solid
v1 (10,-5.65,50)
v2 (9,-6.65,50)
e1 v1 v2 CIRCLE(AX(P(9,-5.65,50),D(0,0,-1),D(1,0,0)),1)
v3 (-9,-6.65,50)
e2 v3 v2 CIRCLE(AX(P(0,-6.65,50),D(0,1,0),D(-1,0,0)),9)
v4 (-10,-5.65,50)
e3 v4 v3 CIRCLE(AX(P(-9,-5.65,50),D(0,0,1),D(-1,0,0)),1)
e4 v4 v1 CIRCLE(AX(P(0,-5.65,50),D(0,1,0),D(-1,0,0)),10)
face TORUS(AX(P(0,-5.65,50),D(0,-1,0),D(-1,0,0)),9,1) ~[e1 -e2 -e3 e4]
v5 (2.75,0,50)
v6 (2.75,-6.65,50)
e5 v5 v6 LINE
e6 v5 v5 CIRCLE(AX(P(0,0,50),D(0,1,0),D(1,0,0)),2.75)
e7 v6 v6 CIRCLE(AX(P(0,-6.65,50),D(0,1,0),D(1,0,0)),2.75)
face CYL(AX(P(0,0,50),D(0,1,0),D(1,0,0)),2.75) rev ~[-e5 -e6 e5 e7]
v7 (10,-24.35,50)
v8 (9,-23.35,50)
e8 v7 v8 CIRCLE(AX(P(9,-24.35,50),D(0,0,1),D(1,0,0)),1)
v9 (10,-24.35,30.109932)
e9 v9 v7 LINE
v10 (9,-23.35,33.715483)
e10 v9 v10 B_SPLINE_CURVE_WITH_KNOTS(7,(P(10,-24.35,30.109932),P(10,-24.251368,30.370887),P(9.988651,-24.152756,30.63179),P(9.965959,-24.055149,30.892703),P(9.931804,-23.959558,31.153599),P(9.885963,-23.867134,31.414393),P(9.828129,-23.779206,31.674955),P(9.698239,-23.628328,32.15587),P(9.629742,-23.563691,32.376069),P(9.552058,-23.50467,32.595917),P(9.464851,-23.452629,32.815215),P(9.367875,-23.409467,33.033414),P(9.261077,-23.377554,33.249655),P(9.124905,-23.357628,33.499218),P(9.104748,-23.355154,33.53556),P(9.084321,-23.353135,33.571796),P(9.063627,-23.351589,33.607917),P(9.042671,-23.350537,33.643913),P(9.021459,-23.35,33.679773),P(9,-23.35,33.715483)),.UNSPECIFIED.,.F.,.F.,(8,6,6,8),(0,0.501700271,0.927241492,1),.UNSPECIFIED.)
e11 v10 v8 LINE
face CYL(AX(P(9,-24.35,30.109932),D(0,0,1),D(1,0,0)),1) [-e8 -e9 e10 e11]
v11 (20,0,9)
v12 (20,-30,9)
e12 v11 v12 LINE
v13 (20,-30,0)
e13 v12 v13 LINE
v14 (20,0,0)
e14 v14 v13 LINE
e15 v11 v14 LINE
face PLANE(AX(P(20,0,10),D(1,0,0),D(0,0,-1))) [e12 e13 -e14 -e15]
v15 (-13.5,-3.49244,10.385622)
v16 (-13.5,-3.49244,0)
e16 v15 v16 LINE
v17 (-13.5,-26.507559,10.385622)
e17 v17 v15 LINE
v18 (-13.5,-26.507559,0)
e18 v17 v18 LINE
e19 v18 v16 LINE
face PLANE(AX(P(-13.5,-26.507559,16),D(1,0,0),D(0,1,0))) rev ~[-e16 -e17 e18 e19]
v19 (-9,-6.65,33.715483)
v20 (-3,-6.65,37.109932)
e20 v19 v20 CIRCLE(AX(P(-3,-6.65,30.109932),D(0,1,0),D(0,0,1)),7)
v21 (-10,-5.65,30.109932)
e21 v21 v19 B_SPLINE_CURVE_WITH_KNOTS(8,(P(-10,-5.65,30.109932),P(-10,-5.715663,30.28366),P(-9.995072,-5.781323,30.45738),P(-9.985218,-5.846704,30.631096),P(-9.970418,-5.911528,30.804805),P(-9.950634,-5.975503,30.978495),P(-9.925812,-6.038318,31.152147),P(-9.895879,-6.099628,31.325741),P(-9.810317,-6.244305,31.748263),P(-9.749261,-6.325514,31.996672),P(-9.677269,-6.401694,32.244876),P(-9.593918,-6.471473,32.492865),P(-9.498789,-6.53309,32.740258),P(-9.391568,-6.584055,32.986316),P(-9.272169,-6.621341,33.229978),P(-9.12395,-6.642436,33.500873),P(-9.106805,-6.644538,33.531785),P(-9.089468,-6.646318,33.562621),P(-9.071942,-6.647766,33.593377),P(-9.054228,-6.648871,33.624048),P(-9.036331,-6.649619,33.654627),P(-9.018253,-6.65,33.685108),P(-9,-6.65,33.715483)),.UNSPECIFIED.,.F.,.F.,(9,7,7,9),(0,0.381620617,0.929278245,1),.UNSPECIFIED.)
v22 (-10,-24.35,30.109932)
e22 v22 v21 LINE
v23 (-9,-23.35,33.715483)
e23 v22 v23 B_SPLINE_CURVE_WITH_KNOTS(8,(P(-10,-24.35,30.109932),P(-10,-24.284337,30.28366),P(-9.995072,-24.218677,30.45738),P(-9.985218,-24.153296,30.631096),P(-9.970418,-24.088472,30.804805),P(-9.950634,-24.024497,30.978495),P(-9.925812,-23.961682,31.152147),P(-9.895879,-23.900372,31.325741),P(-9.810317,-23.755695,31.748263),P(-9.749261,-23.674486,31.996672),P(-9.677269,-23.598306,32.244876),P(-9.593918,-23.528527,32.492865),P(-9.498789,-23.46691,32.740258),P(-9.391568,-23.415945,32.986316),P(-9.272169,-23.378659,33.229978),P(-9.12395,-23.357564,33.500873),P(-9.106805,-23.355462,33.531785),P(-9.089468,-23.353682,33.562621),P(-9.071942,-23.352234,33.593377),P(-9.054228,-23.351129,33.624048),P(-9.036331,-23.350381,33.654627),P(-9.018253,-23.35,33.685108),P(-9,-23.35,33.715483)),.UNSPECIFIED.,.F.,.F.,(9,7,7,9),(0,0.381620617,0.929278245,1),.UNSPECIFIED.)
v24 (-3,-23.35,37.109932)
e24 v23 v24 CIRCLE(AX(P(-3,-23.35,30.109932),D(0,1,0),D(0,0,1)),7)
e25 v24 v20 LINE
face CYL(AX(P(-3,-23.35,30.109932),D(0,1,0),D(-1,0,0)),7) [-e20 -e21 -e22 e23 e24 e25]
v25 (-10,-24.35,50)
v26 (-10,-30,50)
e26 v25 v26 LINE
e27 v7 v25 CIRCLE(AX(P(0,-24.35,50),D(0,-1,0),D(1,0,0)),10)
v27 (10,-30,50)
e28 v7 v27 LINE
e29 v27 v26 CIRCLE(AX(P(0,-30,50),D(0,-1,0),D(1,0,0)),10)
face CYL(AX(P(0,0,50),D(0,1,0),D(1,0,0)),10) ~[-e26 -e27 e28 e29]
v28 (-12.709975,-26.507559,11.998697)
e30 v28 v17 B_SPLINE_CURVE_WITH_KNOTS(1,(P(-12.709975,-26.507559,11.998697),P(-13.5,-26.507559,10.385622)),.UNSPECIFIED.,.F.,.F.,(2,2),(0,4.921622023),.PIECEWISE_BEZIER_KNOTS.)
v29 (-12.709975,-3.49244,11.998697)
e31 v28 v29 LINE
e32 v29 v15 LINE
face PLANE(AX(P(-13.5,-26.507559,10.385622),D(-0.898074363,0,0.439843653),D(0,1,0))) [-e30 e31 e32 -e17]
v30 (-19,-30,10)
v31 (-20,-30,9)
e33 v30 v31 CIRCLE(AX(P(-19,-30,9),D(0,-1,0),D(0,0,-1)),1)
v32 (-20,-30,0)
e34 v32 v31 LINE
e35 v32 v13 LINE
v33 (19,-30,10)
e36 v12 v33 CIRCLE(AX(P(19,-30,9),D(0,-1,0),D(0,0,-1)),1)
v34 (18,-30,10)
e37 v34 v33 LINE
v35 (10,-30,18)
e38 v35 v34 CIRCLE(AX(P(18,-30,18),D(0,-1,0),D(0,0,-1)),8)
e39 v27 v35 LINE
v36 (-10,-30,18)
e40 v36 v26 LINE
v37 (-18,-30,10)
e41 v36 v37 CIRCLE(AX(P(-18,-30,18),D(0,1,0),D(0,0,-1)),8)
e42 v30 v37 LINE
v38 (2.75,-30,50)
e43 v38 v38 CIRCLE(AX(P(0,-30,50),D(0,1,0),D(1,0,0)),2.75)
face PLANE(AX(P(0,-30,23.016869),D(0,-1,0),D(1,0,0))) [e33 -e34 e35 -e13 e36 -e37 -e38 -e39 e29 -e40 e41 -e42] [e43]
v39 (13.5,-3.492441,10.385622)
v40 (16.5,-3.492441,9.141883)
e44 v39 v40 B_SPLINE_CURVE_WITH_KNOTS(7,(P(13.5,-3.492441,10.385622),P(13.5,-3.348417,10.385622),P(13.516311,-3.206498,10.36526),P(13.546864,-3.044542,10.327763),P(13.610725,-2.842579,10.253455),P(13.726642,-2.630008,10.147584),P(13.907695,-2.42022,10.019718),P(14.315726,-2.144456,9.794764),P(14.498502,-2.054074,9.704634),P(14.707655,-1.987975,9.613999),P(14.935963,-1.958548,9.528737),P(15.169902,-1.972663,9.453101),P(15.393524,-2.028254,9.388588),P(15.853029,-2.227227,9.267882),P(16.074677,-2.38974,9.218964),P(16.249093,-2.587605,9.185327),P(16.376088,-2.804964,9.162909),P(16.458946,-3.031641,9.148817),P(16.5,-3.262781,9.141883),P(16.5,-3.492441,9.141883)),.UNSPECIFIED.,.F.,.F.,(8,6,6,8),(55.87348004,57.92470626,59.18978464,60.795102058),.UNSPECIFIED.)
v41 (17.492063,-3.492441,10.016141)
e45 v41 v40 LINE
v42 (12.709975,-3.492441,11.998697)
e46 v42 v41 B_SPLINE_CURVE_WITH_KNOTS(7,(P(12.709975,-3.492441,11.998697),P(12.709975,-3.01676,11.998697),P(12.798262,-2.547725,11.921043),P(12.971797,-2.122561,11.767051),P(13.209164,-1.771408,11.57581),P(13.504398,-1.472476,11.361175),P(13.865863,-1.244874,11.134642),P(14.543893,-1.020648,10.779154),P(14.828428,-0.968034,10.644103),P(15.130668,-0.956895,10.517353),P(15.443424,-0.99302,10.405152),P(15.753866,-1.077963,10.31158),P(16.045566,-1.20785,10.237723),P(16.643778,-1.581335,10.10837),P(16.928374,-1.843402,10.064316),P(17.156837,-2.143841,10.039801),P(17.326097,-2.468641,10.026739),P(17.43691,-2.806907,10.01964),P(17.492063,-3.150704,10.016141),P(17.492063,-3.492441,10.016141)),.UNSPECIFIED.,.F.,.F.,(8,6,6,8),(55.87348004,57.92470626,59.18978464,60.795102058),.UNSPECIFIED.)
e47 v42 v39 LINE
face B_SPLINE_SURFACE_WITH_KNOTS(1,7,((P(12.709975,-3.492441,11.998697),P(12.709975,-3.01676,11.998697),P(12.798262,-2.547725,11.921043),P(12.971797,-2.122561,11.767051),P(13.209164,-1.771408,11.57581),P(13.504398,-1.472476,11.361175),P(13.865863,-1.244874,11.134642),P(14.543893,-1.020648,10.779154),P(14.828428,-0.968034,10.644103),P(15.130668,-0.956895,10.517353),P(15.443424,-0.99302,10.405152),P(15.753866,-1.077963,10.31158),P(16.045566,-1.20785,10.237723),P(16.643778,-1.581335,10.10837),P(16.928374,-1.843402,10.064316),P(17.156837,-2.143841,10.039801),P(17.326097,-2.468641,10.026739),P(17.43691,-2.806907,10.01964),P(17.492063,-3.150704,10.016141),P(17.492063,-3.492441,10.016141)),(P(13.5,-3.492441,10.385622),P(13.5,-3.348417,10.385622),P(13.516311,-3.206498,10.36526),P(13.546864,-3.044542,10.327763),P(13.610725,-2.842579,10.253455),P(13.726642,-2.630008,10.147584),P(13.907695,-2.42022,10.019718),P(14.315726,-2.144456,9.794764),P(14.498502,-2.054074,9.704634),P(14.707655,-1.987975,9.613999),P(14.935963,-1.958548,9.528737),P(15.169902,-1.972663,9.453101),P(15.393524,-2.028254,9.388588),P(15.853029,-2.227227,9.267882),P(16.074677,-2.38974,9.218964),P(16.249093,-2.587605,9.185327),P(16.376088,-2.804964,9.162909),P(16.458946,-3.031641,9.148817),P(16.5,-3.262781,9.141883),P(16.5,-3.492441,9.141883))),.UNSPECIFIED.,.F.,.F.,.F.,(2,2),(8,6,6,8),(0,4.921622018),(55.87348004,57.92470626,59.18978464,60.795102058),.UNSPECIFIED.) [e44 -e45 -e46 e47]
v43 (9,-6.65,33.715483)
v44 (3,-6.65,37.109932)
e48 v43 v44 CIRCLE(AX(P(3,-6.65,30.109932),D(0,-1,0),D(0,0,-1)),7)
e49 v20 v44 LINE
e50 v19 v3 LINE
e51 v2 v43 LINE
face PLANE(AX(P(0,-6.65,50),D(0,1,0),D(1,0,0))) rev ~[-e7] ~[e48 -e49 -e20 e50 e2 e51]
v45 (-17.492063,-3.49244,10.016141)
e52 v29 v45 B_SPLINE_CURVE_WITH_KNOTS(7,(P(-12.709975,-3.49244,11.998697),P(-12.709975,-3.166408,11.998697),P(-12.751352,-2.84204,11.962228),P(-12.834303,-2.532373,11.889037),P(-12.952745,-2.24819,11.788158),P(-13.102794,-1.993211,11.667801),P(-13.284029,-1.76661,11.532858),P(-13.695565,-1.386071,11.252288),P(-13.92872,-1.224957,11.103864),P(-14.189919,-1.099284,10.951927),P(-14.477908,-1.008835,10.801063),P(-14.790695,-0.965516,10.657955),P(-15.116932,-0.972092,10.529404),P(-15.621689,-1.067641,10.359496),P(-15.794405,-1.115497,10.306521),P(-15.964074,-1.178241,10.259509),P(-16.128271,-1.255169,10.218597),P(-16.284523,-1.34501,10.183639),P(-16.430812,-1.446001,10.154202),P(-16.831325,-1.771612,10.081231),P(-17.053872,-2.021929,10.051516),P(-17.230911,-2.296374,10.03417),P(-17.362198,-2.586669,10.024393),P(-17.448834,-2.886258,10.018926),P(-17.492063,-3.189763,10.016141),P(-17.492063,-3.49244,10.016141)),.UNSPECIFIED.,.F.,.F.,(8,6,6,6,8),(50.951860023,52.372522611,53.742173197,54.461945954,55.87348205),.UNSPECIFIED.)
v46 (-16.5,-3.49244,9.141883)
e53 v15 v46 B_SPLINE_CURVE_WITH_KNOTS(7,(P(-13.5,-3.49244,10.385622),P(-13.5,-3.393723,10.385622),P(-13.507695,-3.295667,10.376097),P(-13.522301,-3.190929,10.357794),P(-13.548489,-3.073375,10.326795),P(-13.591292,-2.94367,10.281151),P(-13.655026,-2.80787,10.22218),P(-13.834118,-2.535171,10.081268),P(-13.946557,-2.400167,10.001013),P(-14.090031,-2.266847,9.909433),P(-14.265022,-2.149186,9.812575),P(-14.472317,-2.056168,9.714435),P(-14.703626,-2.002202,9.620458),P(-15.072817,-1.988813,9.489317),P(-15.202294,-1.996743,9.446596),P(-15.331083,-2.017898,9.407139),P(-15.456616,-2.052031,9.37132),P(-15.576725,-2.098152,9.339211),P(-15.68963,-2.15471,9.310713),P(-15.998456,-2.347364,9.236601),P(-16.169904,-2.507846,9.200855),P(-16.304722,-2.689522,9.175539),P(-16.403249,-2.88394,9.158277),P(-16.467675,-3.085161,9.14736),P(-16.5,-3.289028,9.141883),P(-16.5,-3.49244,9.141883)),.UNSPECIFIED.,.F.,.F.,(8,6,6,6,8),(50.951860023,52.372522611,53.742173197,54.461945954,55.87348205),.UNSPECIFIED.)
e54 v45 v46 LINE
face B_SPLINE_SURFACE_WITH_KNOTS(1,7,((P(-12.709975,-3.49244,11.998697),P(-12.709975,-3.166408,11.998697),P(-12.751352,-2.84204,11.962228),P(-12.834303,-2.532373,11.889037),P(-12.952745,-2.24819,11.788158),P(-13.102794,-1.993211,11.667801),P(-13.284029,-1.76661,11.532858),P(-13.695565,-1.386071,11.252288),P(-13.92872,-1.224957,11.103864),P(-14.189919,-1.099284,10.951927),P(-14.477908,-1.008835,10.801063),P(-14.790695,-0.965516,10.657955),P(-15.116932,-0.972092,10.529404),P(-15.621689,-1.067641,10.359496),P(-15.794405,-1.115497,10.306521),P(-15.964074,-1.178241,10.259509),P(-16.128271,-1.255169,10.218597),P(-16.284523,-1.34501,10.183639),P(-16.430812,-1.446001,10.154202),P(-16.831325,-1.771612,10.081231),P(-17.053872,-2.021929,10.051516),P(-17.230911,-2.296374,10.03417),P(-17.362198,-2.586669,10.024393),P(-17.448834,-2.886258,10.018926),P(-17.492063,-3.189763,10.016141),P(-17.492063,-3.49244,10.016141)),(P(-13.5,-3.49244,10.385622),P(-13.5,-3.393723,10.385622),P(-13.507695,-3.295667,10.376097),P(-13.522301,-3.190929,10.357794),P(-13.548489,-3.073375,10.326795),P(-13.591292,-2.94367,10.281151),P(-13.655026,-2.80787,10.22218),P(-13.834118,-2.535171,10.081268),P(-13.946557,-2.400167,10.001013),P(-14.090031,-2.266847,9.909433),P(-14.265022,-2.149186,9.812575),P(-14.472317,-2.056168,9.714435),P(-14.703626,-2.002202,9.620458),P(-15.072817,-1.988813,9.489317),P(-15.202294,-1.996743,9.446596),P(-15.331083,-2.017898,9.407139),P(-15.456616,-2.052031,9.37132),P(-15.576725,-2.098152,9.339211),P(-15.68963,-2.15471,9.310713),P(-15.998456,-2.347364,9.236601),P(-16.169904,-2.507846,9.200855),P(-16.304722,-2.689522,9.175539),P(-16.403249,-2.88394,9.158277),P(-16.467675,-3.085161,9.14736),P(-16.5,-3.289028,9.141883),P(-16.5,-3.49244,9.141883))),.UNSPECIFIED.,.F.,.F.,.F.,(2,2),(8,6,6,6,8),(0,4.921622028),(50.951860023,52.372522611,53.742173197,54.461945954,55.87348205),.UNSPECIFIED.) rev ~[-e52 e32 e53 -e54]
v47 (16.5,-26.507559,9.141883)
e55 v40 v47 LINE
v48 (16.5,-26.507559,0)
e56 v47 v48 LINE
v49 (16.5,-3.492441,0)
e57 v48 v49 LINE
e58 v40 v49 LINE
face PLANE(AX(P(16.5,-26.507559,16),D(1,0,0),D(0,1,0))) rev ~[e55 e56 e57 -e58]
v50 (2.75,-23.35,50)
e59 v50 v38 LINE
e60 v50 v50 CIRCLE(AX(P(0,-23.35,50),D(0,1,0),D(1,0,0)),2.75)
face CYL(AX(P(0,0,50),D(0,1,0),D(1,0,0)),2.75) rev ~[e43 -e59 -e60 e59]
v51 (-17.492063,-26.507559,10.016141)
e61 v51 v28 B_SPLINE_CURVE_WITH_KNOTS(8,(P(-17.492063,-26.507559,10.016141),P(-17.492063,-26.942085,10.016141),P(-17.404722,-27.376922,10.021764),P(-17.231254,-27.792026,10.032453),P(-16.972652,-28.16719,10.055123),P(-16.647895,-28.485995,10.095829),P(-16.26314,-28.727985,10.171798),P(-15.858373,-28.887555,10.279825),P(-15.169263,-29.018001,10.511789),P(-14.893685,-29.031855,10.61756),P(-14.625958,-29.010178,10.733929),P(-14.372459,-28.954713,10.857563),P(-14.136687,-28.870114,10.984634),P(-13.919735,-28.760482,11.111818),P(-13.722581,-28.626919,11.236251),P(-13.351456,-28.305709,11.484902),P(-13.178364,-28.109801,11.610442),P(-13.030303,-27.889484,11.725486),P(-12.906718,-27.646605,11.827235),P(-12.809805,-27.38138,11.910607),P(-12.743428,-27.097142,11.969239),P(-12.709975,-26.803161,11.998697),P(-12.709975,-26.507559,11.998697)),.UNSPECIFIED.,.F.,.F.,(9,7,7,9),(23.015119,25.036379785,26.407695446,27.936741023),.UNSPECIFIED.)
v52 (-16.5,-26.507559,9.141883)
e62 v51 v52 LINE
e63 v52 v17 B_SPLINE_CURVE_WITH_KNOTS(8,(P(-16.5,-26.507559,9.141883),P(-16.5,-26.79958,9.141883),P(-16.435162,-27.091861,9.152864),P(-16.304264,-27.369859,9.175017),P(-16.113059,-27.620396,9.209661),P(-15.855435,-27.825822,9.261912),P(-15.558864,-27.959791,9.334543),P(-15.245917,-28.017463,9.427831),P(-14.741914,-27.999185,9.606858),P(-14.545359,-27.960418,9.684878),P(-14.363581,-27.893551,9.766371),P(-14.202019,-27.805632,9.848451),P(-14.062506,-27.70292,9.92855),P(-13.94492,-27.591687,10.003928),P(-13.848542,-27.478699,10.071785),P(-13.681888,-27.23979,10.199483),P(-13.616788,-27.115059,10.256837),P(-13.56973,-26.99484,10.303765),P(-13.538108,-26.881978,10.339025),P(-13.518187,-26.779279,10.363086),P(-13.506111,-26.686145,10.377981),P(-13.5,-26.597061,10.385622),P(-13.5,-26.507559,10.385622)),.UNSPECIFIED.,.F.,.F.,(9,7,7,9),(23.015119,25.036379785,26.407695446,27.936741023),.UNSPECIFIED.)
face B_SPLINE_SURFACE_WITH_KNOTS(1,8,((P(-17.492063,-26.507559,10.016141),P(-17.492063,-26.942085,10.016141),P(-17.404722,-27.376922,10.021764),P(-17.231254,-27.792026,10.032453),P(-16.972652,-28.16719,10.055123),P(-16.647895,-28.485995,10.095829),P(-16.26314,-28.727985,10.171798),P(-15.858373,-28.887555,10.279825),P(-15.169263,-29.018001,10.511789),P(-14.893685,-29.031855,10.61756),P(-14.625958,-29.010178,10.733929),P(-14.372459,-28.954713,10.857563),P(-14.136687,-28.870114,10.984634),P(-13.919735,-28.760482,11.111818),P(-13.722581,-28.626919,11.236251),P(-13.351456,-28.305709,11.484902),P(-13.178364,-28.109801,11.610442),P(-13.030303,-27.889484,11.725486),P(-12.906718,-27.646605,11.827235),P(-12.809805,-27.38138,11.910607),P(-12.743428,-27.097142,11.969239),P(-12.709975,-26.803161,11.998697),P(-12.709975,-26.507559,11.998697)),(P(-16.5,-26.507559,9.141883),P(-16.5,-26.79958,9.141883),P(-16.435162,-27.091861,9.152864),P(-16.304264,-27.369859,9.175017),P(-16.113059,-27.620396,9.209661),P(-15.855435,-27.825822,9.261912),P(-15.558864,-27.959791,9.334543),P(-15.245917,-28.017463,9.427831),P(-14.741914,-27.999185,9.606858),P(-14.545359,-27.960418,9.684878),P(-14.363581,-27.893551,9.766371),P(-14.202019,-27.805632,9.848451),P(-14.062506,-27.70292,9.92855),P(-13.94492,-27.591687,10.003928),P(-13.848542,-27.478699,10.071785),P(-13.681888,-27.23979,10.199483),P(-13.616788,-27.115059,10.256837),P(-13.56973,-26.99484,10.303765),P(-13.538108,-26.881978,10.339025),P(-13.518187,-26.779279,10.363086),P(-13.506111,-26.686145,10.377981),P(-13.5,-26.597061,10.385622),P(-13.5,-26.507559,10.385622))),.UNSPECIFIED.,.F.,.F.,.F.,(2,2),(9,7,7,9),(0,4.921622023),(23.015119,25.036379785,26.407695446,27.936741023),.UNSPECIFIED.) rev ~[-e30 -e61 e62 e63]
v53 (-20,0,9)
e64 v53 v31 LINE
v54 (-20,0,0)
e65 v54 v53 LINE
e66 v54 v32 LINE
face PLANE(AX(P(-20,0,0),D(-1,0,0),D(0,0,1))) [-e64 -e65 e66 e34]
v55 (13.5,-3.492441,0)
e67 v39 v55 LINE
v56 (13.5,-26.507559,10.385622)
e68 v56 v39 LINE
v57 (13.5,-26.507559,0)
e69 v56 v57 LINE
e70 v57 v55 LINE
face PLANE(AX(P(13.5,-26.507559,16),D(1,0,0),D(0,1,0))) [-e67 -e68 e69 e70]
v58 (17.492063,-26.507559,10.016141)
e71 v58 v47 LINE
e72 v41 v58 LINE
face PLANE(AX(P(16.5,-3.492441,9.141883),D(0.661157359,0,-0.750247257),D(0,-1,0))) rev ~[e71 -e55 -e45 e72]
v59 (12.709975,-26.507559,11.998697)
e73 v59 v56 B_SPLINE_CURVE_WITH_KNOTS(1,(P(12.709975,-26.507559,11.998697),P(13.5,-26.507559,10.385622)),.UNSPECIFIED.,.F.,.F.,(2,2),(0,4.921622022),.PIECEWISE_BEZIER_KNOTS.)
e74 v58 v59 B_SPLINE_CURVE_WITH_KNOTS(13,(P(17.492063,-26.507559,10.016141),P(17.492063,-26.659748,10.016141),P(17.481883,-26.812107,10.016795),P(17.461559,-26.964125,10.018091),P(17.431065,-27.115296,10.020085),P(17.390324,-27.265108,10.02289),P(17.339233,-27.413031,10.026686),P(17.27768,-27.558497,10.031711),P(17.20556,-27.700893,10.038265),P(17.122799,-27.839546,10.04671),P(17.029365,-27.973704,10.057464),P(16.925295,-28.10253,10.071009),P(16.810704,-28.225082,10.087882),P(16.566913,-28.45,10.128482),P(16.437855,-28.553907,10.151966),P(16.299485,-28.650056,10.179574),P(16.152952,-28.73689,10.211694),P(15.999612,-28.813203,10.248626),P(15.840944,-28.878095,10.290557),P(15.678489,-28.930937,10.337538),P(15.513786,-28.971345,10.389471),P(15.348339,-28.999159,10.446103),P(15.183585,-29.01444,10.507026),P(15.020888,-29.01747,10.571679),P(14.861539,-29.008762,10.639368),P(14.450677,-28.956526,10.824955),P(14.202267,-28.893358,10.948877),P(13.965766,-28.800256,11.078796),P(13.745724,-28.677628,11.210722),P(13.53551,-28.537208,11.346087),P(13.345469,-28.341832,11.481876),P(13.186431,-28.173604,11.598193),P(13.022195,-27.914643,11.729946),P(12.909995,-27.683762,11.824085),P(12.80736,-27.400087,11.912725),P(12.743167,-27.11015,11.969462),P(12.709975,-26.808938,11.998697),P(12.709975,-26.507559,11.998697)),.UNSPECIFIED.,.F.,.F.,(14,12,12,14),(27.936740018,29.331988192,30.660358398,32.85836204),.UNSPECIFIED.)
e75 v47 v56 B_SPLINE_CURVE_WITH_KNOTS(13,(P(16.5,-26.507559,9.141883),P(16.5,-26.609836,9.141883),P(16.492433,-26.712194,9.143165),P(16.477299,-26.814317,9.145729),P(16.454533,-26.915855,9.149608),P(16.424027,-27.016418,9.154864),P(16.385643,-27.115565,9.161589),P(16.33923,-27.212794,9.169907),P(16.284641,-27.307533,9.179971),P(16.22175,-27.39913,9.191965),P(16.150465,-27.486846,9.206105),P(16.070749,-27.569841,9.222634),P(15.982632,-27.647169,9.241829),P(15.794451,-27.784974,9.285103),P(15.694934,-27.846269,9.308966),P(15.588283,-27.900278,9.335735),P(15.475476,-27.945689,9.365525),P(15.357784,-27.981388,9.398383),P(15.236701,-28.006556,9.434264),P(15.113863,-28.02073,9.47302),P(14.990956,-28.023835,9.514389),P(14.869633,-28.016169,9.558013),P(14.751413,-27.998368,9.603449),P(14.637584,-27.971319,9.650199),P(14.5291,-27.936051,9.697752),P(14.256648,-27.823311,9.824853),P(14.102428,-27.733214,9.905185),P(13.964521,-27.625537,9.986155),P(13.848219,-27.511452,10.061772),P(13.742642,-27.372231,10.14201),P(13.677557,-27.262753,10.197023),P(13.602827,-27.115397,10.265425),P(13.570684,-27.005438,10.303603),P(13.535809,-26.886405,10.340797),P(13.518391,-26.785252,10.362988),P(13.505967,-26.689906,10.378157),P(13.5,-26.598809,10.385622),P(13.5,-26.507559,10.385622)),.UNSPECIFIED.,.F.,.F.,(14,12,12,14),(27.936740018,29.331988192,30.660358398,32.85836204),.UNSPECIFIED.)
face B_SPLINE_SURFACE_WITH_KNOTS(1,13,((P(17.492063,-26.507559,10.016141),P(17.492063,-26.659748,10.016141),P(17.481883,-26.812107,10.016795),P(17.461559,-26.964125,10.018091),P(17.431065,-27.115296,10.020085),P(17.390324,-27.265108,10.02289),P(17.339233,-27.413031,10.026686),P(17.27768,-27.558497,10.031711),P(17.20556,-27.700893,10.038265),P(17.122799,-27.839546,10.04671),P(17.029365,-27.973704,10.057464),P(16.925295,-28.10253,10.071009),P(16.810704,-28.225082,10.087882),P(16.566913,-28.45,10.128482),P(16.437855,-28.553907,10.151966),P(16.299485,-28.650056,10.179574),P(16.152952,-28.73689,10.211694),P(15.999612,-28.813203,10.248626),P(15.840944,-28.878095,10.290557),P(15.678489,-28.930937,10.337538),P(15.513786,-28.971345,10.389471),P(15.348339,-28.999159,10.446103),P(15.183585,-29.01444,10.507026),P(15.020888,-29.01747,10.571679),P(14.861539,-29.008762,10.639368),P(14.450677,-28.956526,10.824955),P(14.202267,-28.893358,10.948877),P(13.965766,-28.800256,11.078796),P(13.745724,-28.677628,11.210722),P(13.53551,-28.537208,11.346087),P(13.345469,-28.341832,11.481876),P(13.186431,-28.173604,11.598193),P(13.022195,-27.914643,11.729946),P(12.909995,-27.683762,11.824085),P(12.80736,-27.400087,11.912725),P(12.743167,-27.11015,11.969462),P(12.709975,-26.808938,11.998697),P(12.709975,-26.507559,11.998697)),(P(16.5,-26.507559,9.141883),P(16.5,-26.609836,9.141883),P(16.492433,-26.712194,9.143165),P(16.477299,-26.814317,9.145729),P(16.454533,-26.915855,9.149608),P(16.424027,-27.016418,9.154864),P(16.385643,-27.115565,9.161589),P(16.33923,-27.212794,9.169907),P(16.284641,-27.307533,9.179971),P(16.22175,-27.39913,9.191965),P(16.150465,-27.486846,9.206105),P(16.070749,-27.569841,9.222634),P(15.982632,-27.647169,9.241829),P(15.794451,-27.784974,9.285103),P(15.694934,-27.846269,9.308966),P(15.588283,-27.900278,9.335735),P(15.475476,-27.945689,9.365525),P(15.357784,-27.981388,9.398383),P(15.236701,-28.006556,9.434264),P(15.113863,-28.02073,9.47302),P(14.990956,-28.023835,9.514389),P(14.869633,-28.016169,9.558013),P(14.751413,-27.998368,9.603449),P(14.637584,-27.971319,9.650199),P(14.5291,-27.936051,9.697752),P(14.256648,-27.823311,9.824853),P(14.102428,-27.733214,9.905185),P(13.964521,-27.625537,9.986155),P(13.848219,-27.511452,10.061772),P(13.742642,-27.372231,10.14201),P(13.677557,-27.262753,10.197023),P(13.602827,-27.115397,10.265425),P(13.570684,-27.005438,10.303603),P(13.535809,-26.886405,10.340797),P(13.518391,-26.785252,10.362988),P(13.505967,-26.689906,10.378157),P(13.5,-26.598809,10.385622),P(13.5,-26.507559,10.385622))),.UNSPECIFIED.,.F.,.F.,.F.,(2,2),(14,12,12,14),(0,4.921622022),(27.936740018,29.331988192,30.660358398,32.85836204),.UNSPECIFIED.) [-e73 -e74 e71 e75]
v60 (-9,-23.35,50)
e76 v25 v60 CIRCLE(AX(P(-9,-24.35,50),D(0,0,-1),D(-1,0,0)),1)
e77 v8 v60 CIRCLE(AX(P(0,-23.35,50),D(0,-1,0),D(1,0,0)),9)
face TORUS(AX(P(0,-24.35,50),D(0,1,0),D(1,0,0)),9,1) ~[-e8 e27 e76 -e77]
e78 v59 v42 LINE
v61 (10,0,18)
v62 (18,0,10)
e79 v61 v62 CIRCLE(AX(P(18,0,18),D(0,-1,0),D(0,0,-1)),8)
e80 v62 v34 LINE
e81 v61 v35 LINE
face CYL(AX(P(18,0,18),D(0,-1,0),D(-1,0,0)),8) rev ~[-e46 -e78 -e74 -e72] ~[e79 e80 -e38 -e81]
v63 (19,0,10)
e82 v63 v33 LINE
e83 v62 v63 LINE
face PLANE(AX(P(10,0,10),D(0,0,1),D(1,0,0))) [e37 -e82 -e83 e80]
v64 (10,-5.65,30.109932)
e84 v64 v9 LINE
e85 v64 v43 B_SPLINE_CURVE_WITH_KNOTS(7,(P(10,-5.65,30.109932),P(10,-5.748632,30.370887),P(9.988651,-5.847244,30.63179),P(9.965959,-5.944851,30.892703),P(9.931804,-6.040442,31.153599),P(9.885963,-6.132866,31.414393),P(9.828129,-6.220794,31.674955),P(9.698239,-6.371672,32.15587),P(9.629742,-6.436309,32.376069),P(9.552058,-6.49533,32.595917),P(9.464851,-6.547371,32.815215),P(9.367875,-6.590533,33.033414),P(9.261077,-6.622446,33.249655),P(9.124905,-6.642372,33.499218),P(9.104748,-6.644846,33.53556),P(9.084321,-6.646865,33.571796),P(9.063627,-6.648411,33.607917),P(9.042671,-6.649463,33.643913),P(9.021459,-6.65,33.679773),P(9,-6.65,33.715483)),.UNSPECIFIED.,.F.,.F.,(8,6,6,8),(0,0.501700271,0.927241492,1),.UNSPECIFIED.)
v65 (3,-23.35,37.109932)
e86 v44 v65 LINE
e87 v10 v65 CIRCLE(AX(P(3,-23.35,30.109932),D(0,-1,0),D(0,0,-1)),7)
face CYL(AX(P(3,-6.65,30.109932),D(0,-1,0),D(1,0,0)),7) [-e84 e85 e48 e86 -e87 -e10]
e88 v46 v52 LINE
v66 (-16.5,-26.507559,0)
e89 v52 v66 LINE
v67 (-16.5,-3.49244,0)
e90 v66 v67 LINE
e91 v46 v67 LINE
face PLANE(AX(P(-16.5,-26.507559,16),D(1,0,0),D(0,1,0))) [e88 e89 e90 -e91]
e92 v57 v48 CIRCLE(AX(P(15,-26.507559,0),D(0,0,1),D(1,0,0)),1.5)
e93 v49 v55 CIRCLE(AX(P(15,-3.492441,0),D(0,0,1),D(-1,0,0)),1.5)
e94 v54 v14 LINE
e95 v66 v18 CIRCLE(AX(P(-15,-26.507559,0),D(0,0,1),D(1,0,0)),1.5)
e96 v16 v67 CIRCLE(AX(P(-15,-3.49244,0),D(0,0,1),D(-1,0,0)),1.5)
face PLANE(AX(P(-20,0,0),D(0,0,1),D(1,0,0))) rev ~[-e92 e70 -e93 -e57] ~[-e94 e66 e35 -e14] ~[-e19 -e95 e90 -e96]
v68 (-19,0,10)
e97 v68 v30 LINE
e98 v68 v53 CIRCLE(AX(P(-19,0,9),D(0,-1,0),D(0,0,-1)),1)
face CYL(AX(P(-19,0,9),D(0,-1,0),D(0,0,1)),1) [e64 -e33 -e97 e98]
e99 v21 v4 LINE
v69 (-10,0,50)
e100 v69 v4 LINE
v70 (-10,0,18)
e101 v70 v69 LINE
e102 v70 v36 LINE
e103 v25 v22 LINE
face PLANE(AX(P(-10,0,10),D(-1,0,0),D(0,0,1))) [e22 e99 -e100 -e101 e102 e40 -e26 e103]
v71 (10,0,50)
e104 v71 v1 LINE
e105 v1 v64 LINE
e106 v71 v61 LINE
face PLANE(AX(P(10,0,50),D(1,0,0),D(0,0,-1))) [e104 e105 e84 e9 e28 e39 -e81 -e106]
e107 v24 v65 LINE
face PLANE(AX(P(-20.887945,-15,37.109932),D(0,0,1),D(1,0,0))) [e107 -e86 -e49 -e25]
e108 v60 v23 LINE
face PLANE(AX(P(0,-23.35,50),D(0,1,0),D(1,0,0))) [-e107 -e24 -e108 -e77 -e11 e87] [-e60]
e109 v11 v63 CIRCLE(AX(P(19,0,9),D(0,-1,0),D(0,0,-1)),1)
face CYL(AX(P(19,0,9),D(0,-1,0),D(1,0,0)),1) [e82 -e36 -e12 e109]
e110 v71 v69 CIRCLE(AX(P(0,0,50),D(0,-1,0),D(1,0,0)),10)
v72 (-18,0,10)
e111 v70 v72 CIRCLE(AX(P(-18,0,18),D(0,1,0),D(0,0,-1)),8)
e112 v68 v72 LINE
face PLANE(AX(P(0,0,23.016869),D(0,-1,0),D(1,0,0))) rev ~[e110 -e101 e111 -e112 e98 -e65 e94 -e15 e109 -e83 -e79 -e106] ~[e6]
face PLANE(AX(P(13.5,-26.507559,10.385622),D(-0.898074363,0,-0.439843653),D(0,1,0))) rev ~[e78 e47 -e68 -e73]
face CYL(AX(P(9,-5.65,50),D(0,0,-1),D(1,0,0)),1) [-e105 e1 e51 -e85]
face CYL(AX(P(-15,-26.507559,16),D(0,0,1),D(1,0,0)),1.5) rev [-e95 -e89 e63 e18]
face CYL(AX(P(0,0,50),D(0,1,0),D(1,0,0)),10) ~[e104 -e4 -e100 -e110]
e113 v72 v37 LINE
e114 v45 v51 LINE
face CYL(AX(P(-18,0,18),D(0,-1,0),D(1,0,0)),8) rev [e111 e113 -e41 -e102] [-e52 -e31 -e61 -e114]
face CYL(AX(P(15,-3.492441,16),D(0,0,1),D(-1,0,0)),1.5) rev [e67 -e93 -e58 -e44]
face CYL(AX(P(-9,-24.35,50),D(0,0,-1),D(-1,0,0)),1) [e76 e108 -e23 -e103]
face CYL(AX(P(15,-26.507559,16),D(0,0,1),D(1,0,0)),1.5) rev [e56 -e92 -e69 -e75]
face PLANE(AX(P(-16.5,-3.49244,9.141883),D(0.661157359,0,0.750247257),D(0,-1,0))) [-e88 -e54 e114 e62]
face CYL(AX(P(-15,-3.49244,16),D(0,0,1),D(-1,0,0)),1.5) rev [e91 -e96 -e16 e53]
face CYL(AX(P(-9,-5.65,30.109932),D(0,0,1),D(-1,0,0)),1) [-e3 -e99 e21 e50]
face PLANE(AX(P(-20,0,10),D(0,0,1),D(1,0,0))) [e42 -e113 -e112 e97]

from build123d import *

# Parameters (mm, degrees)
PAD_DEPTH       = 30
SKETCH001_W     = 41.77589
SKETCH001_H     = 25.780136
POCKET_DEPTH    = 8.35
SKETCH002_R     = 2.75
POCKET001_DEPTH = 30.001
FILLET_R        = 7
FILLET001_R     = 8
FILLET002_R     = 1
POCKET002_DEPTH = 16.001
CHAMFER_SIZE    = 1
FILLET003_R     = 1


with BuildPart() as part:
    # Sketch → Pad (new body)
    with BuildSketch(Plane.XZ):
        with BuildLine():
            Line((-20, 0), (20, 0))
            Line((20, 10), (20, 0))
            Line((10, 10), (20, 10))
            Line((10, 50), (10, 10))
            ThreePointArc((10, 50), (0, 60), (-10, 50))
            Line((-10, 10), (-10, 50))
            Line((-20, 10), (-10, 10))
            Line((-20, 0), (-20, 10))
        make_face()
    extrude(amount=PAD_DEPTH)

    # Sketch001 (on DatumPlane) → Pocket (cut, symmetric)
    with BuildSketch(Plane(origin=(0, -15, 0), x_dir=(1, 0, 0), z_dir=(0, 1, 0))):
        with Locations((0, -50)):
            Rectangle(SKETCH001_W, SKETCH001_H)
    extrude(amount=POCKET_DEPTH, both=True, mode=Mode.SUBTRACT)

    # Sketch002 (on Face4 of Pocket) → Pocket001 (cut, through all)
    with BuildSketch(Plane(origin=(0, 0, 0), x_dir=(1, 0, 0), z_dir=(0, 1, 0))):
        with Locations((0, -50)):
            Circle(SKETCH002_R)
    extrude(amount=-POCKET001_DEPTH, mode=Mode.SUBTRACT)

    # Fillet
    fillet_edges = [part.edges().sort_by_distance(p)[0] for p in [
        (-10, -15, 37.109932),
        (10, -15, 37.109932),
    ]]
    fillet(fillet_edges, radius=FILLET_R)

    # Fillet001
    fillet001_edges = [part.edges().sort_by_distance(p)[0] for p in [
        (10, -15, 10),
        (-10, -15, 10),
    ]]
    fillet(fillet001_edges, radius=FILLET001_R)

    # Fillet002
    fillet002_edges = [part.edges().sort_by_distance(p)[0] for p in [
        (-20, -15, 10),
        (20, -15, 10),
    ]]
    fillet(fillet002_edges, radius=FILLET002_R)

    # Sketch003 (on DatumPlane) → Pocket002 (cut, through all)
    with BuildSketch(Plane(origin=(0, 0, 16), x_dir=(1, 0, 0), z_dir=(0, 0, -1))):
        with BuildLine():
            ThreePointArc((16.5, 26.507559), (15, 28.007559), (13.5, 26.507559))
            Line((13.5, 26.507559), (13.5, 3.492441))
            ThreePointArc((13.5, 3.492441), (15, 1.992441), (16.5, 3.492441))
            Line((16.5, 26.507559), (16.5, 3.492441))
        make_face()
        with BuildLine():
            ThreePointArc((-13.5, 26.507559), (-15, 28.007559), (-16.5, 26.507559))
            Line((-16.5, 26.507559), (-16.5, 3.49244))
            ThreePointArc((-16.5, 3.49244), (-15, 1.99244), (-13.5, 3.49244))
            Line((-13.5, 26.507559), (-13.5, 3.49244))
        make_face()
    extrude(amount=POCKET002_DEPTH, mode=Mode.SUBTRACT)

    # Chamfer
    chamfer_edges = [part.edges().sort_by_distance(p)[0] for p in [
        (-16.5, -15, 10.141883),
        (-13.5, -15, 11.385622),
        (-14.95623, -1.993079, 10.601658),
        (-14.95623, -28.00692, 10.601658),
        (14.95623, -1.99308, 10.601658),
        (13.5, -15, 11.385622),
        (16.5, -15, 10.141883),
        (14.95623, -28.00692, 10.601658),
    ]]
    chamfer(chamfer_edges, length=CHAMFER_SIZE)

    # Fillet003
    fillet003_edges = [part.edges().sort_by_distance(p)[0] for p in [
        (-10, -23.35, 43.554966),
        (10, -23.35, 43.554966),
        (-10, -6.65, 43.554966),
        (10, -6.65, 43.554966),
    ]]
    fillet(fillet003_edges, radius=FILLET003_R)


solid = part.part
